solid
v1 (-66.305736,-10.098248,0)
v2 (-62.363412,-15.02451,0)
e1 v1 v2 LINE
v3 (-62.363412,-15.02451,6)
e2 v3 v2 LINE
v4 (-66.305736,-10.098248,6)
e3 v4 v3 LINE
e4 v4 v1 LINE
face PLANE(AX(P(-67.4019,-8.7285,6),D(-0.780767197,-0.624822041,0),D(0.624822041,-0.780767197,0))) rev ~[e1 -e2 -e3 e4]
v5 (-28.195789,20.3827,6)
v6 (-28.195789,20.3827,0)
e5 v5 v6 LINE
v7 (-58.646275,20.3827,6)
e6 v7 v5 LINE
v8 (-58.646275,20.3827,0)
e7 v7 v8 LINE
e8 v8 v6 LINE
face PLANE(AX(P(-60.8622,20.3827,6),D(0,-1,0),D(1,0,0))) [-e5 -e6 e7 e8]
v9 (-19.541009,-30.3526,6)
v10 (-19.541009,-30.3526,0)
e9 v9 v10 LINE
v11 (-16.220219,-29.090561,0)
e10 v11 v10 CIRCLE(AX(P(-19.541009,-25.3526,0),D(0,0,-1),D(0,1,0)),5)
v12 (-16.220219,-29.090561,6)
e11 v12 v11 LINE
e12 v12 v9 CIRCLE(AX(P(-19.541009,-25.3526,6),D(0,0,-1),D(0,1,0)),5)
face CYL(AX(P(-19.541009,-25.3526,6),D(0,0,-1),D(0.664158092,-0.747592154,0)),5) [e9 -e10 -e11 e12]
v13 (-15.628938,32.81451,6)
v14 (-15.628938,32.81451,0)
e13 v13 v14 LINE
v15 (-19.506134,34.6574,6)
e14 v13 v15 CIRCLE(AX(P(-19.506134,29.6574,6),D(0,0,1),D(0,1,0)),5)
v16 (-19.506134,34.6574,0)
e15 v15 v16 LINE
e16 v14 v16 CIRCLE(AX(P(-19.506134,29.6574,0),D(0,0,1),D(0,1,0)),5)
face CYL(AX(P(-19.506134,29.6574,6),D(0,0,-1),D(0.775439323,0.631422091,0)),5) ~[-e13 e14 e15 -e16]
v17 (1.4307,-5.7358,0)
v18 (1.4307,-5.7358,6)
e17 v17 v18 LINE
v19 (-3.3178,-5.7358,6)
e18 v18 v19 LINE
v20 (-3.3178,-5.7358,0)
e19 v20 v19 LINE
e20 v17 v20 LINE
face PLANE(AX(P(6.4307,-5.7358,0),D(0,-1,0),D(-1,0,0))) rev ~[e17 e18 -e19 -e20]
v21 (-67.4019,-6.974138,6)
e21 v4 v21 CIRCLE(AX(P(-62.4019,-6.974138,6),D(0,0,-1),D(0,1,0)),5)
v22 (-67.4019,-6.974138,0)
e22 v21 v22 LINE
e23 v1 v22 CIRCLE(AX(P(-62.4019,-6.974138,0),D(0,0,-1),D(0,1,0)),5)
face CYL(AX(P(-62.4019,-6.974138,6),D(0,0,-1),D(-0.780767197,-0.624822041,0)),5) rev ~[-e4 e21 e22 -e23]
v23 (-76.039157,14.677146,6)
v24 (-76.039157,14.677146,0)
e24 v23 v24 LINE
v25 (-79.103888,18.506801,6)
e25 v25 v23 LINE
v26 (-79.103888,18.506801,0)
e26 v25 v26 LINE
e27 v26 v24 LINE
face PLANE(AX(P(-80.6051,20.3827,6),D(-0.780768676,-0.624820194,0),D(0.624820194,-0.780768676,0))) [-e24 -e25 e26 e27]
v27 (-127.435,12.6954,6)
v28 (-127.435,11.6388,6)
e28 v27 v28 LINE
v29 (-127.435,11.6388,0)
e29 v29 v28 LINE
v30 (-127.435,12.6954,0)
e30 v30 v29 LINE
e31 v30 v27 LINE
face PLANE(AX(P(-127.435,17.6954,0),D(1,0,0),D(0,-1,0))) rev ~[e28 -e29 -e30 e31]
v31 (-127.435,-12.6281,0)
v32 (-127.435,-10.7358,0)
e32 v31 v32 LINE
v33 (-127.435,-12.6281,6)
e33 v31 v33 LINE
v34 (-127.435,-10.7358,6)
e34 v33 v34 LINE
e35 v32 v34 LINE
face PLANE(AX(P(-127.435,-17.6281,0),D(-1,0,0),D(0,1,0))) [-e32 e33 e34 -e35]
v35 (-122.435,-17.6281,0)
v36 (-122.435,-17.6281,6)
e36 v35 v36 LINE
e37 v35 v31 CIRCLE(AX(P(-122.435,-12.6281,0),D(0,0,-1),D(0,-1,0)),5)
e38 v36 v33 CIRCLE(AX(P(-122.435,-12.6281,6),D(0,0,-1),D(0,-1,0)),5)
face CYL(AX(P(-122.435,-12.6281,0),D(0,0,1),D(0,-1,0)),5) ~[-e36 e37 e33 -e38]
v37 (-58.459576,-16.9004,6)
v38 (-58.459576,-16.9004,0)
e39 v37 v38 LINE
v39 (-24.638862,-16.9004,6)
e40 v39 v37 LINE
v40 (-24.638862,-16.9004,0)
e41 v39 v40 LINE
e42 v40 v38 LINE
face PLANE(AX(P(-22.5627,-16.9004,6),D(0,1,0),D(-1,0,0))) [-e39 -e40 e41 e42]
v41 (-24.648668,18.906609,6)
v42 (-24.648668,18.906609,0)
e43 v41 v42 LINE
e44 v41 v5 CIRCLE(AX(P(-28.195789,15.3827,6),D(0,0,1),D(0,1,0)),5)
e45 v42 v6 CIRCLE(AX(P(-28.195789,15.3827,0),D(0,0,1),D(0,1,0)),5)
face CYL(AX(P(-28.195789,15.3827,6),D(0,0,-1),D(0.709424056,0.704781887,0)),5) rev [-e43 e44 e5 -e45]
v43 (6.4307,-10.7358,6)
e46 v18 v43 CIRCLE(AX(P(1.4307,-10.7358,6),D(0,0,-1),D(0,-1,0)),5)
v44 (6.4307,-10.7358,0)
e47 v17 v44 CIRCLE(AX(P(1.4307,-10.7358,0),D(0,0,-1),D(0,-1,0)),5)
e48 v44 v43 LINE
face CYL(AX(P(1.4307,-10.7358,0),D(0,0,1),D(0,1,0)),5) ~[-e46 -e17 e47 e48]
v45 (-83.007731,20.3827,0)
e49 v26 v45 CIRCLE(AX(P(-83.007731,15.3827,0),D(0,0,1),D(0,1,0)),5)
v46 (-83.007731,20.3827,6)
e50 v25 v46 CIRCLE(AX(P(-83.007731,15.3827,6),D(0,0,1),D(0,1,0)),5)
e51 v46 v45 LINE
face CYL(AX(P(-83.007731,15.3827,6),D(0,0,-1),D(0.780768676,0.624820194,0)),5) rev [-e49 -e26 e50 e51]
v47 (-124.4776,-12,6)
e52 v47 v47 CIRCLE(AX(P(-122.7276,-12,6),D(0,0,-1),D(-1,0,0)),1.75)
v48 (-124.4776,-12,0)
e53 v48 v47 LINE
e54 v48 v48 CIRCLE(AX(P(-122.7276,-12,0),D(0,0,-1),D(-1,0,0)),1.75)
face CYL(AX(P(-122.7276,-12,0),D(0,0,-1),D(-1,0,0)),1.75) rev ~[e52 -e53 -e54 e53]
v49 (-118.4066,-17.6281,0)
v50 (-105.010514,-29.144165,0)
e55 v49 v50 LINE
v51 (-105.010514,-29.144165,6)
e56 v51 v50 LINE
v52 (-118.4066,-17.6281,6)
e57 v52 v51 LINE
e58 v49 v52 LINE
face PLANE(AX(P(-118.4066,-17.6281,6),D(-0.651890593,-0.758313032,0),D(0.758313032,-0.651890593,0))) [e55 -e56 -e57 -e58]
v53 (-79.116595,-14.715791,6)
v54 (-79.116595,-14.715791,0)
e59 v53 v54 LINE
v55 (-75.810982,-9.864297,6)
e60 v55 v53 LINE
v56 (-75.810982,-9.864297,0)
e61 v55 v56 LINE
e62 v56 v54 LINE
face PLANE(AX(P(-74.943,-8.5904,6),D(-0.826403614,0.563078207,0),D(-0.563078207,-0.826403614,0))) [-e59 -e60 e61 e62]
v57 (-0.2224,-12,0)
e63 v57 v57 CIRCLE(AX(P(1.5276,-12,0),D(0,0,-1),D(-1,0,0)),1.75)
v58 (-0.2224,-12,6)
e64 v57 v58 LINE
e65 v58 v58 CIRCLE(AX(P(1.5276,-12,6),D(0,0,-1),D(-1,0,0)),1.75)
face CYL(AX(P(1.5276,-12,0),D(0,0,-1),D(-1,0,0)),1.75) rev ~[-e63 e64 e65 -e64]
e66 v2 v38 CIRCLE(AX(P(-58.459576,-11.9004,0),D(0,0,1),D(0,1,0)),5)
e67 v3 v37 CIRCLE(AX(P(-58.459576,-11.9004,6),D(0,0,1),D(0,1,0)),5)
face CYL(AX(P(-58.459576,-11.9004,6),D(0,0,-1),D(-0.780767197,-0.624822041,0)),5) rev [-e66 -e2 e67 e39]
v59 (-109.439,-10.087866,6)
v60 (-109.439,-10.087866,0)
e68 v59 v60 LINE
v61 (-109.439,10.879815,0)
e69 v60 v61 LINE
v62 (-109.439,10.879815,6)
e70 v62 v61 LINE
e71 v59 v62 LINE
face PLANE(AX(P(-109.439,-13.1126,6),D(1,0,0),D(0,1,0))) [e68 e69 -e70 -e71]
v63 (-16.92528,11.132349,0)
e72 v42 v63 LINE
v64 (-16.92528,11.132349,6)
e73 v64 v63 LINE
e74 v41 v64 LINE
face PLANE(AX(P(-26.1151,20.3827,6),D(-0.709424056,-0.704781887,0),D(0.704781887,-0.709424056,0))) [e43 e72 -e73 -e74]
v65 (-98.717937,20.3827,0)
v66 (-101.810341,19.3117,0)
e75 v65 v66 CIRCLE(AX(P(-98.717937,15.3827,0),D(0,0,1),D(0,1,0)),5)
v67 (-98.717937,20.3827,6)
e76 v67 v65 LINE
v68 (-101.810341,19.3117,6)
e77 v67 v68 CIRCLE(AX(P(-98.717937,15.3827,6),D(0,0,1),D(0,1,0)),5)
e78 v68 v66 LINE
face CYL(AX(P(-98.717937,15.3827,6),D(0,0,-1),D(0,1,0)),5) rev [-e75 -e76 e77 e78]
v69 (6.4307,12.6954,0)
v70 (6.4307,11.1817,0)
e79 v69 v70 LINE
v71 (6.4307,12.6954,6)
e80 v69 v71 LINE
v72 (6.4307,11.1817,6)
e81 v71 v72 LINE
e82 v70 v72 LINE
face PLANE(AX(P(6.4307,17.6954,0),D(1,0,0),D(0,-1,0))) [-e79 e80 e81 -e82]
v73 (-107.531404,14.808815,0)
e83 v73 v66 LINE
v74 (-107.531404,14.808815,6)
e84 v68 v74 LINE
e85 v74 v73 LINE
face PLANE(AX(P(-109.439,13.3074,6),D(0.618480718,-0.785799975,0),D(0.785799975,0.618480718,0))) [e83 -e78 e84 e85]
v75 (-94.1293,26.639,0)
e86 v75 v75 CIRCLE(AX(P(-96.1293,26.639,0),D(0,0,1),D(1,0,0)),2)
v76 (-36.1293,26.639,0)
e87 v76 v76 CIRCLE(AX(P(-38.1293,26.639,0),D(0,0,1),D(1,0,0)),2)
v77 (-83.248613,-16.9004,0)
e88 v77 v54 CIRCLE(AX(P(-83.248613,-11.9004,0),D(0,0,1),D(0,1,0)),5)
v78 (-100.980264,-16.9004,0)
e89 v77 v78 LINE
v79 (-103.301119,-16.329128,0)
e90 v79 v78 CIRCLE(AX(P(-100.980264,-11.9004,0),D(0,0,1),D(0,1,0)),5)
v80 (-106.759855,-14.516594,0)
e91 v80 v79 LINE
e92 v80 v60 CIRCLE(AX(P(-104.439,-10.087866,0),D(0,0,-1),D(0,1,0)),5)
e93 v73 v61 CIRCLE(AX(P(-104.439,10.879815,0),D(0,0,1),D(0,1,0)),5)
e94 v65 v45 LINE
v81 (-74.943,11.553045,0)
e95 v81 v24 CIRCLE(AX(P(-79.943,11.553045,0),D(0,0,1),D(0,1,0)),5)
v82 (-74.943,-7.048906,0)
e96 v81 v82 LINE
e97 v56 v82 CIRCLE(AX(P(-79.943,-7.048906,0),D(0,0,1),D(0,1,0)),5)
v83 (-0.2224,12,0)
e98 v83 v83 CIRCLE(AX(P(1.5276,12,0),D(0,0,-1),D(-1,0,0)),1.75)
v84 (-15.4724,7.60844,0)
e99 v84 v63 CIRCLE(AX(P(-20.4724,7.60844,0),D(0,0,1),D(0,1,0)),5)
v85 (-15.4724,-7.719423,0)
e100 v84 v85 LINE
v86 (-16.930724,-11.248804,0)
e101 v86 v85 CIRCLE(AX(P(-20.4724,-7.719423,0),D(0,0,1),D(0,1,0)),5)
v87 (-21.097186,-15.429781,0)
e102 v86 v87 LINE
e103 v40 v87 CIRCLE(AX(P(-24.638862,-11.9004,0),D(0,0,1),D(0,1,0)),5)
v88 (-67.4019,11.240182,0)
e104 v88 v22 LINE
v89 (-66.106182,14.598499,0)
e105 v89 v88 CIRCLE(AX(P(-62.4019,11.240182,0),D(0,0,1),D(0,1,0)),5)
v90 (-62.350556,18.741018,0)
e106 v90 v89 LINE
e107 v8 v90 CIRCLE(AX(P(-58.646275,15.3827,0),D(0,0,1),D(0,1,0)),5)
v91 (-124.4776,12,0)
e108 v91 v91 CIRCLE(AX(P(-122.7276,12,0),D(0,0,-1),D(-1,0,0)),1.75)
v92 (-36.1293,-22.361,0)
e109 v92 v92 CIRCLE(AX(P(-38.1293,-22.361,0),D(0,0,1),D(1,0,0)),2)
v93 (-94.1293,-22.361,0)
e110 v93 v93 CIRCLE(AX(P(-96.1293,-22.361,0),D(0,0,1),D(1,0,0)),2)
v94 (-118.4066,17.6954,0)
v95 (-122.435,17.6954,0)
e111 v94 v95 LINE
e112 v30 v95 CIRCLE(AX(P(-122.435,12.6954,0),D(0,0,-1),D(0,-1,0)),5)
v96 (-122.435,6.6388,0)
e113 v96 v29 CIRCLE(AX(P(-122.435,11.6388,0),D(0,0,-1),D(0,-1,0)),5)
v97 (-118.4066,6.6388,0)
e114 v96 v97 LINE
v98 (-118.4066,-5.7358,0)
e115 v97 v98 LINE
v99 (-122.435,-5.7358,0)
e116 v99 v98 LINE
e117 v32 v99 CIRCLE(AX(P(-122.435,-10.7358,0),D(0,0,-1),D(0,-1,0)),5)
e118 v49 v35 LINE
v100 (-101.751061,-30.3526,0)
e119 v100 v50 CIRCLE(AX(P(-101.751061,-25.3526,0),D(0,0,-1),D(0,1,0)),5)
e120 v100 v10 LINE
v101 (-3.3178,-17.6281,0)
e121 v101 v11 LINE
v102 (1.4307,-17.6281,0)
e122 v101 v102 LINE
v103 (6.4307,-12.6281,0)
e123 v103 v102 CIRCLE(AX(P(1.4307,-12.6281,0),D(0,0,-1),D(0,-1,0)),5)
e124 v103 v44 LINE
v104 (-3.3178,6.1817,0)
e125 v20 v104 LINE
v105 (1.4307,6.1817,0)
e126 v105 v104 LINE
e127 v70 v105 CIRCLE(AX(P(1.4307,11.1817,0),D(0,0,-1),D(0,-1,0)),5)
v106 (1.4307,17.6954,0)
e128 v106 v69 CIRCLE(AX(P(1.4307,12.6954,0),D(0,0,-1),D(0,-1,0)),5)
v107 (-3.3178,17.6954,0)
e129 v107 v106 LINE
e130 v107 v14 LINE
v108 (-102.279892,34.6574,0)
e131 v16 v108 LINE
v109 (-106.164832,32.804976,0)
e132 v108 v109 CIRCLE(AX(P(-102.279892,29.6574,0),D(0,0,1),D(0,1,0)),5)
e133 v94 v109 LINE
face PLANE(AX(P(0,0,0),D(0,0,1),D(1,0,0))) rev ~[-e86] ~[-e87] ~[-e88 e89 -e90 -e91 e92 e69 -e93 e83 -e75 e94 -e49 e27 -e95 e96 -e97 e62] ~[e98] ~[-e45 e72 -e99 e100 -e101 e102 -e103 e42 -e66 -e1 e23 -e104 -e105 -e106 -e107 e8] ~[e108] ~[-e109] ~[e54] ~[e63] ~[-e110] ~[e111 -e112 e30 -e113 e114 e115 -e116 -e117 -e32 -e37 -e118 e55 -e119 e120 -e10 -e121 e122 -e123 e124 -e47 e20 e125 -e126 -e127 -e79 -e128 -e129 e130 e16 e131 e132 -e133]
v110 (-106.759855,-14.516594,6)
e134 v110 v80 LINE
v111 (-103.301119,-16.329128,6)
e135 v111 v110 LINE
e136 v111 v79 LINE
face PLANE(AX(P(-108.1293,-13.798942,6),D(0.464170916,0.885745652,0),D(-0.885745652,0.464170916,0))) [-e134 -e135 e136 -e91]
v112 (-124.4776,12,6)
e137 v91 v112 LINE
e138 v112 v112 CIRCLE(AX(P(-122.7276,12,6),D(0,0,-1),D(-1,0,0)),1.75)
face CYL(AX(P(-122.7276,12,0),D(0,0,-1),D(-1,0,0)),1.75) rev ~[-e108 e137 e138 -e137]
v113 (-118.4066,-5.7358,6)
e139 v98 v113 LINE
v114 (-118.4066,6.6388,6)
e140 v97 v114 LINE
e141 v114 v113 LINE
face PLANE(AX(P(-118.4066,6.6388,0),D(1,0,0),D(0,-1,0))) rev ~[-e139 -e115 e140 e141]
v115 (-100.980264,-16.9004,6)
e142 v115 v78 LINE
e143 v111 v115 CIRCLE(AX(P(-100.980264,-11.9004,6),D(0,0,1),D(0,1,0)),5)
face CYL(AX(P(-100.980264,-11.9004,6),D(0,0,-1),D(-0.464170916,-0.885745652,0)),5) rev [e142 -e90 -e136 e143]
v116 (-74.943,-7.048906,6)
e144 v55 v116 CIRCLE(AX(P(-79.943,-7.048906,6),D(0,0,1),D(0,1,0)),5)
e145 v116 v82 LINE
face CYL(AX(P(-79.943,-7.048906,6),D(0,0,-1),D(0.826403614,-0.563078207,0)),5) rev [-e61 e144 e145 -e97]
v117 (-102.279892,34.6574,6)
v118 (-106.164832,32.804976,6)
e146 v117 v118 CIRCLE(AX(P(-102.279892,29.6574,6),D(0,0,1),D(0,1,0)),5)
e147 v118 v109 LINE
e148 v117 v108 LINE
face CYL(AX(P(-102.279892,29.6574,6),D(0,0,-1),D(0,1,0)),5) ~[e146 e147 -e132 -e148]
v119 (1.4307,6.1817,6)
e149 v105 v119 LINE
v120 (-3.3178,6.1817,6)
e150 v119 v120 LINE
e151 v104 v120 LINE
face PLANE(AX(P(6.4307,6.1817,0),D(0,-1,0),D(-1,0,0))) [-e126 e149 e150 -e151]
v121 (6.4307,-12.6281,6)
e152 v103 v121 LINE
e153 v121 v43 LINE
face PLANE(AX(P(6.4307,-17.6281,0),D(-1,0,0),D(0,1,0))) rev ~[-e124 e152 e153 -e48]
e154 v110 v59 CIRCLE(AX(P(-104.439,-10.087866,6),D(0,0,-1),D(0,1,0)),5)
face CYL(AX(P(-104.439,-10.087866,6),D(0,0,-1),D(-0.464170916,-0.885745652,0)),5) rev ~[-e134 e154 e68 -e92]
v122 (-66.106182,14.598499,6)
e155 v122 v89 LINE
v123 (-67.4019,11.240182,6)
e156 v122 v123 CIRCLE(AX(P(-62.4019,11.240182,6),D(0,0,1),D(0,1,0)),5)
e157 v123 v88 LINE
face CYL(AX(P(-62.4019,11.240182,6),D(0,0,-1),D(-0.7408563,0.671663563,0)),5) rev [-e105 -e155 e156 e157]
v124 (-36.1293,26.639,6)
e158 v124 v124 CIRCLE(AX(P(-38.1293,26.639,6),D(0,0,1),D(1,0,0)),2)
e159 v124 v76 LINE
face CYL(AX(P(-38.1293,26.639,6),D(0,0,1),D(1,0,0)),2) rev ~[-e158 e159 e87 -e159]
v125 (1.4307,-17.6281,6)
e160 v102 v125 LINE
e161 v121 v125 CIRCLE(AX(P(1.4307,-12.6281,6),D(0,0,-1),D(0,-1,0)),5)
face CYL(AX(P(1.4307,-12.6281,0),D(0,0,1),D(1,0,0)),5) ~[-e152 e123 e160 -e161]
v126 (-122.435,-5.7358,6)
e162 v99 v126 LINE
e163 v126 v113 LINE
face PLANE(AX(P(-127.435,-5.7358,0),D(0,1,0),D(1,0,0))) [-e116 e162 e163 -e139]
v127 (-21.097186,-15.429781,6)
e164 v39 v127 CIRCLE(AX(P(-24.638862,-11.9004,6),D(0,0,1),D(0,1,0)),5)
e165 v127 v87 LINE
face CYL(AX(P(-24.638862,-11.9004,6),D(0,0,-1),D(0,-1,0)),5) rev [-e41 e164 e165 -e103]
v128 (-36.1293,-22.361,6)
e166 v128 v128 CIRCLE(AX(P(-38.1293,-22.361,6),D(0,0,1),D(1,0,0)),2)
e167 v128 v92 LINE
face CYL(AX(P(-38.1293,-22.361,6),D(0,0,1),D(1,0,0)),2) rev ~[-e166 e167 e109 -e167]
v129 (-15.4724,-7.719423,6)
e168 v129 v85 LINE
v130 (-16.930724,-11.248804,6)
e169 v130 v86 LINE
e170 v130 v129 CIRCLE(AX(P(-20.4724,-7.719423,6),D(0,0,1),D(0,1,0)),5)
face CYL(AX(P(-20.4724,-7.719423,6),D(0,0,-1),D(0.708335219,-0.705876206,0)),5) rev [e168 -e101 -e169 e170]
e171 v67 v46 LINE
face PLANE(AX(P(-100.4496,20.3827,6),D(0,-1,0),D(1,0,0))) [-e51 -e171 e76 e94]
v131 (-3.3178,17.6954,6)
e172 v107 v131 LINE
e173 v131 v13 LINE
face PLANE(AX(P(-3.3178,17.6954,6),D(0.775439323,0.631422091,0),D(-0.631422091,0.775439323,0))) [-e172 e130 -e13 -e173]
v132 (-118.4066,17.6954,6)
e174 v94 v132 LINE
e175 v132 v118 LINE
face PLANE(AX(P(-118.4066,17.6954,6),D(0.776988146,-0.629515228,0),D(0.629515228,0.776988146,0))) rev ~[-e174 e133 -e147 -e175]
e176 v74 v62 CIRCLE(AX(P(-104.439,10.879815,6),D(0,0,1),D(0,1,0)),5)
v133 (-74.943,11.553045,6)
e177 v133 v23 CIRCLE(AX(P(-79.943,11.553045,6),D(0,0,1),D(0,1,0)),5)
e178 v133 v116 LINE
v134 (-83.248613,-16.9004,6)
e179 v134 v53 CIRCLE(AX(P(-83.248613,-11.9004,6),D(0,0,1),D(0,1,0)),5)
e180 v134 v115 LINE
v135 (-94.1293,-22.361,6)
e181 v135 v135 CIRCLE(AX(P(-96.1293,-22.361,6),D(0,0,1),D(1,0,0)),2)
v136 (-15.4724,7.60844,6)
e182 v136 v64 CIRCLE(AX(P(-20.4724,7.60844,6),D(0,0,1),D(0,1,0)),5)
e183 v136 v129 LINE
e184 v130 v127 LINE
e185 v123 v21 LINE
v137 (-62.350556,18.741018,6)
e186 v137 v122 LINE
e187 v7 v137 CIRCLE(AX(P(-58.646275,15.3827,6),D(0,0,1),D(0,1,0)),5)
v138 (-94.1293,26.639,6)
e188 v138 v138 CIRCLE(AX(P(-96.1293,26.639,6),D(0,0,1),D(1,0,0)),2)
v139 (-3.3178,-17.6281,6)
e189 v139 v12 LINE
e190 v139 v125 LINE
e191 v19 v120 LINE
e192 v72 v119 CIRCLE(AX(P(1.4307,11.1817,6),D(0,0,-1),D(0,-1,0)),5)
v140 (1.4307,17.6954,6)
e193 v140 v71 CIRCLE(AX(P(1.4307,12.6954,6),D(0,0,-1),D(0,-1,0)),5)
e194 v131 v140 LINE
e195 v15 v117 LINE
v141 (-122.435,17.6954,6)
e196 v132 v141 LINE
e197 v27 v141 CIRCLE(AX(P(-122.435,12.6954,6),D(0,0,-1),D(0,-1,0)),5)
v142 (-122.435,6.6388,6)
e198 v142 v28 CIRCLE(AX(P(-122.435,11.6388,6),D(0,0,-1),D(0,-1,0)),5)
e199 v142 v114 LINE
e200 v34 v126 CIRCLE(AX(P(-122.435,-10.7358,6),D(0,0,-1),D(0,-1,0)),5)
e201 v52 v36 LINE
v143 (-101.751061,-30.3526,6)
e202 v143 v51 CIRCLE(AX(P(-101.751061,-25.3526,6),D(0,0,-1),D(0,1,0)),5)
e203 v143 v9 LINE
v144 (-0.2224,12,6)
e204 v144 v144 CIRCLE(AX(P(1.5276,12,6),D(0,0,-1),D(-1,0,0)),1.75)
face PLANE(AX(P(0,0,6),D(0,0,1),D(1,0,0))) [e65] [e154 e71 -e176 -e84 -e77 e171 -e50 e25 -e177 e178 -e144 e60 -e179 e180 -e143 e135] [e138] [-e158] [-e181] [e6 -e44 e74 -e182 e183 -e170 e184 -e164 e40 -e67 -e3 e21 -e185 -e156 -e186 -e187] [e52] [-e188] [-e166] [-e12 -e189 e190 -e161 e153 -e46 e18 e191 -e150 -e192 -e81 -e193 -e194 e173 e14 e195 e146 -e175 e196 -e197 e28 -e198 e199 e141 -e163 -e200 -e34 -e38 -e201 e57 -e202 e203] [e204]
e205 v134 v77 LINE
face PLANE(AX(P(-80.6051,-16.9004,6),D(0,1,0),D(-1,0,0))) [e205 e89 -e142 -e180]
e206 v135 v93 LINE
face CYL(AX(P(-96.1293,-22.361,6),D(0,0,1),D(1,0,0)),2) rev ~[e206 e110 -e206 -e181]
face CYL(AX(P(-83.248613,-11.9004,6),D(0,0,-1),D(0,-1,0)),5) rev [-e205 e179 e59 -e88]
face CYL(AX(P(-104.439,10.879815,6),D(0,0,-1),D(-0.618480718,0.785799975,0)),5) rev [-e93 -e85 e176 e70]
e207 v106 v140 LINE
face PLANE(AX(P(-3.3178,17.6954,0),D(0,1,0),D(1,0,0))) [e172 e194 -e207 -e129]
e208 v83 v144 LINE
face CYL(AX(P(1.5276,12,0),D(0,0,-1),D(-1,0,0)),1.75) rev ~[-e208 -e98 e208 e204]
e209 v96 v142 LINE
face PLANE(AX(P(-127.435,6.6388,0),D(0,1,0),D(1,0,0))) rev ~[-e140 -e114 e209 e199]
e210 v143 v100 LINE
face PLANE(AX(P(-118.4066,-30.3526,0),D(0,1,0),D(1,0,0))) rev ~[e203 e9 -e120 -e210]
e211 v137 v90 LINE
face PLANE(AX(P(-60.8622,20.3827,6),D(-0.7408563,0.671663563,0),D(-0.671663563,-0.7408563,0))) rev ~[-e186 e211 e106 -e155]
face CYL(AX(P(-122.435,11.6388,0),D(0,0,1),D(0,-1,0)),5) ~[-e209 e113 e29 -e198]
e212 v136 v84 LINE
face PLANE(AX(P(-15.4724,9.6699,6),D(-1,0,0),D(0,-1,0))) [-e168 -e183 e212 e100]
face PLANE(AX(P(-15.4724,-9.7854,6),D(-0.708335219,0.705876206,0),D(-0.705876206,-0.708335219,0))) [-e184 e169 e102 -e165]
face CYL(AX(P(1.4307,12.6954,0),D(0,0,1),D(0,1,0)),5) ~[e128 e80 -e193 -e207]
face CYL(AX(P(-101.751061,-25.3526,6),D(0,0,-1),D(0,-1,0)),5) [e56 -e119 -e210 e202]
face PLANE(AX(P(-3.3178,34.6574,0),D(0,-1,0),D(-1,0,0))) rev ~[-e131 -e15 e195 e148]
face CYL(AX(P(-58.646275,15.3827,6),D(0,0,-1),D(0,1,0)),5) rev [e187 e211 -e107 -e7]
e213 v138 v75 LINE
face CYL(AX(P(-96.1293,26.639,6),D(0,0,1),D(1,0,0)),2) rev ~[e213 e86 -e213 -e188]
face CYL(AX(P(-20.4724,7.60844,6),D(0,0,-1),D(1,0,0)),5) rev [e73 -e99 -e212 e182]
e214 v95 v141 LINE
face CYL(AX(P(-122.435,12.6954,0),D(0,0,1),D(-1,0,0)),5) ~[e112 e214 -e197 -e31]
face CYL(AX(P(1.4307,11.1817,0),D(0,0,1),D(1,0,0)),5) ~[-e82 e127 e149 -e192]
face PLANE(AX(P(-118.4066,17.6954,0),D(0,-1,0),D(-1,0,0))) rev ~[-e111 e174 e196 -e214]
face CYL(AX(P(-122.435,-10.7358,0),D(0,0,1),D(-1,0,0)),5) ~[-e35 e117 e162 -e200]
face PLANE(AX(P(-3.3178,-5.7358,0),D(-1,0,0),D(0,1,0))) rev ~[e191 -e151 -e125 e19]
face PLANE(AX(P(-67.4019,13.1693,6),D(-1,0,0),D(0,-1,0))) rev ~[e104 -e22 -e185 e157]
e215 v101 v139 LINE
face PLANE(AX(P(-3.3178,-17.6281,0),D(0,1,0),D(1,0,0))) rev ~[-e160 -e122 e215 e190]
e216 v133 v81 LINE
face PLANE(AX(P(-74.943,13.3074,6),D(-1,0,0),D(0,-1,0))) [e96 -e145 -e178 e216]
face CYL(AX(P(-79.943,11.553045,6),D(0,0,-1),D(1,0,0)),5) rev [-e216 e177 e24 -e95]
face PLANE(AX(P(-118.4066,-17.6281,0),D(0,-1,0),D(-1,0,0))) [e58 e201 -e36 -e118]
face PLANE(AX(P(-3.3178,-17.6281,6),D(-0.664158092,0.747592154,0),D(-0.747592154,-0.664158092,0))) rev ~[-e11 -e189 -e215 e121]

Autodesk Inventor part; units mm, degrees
ref_plane "YZ Plane" through (0, 0, 0) normal (1, 0, 0) x (0, 1, 0)
ref_plane "XZ Plane" through (0, 0, 0) normal (0, 1, 0) x (-1, 0, 0)
ref_plane "XY Plane" through (0, 0, 0) normal (0, 0, 1) x (1, 0, 0)
sketch "Sketch1" plane through (0, 0, 0) normal (0, 0, 1) x (1, 0, 0)
  line L0 (-3.3178, 34.6574) -> (-118.4066, 34.6574)
  line L1 (-118.4066, 34.6574) -> (-118.4066, -30.3526)
  line L2 (-118.4066, -30.3526) -> (-3.3178, -30.3526)
  line L3 (-3.3178, -30.3526) -> (-3.3178, 34.6574)
  line L4 (-118.4066, 17.6954) -> (-127.435, 17.6954)
  line L5 (-127.435, 17.6954) -> (-127.435, 6.6388)
  line L6 (-127.435, 6.6388) -> (-118.4066, 6.6388)
  line L7 (-118.4066, 6.6388) -> (-118.4066, 17.6954)
  line L8 (-118.4066, -17.6281) -> (-127.435, -17.6281)
  line L9 (-127.435, -17.6281) -> (-127.435, -5.7358)
  line L10 (-127.435, -5.7358) -> (-118.4066, -5.7358)
  line L11 (-118.4066, -5.7358) -> (-118.4066, -17.6281)
  line L12 (-3.3178, -17.6281) -> (6.4307, -17.6281)
  line L13 (6.4307, -17.6281) -> (6.4307, -5.7358)
  line L14 (6.4307, -5.7358) -> (-3.3178, -5.7358)
  line L15 (-3.3178, -5.7358) -> (-3.3178, -17.6281)
  line L16 (-3.3178, 17.6954) -> (6.4307, 17.6954)
  line L17 (6.4307, 17.6954) -> (6.4307, 6.1817)
  line L18 (6.4307, 6.1817) -> (-3.3178, 6.1817)
  line L19 (-3.3178, 6.1817) -> (-3.3178, 17.6954)
  point P0 (0, 0)
  point P1 (-3.3178, -5.7358)
  point P2 (-3.3178, 6.1817)
extrude "Extrusion1" add sketch "Sketch1" along normal blind 6
sketch "Sketch2" plane through (0, 0, 6) normal (0, 0, 1) x (1, 0, 0)
  circle A0 centre (-38.1293, 26.639) radius 1.5 projected
  circle A1 centre (-38.1293, -22.361) radius 1.5 projected
  circle A2 centre (-96.1293, -22.361) radius 1.5 projected
  circle A3 centre (-96.1293, 26.639) radius 1.5 projected
  line L0 (6.4307, 17.6954) -> (-3.3178, 17.6954) projected
  line L1 (-3.3178, 17.6954) -> (-3.3178, 34.6574) projected
  line L2 (-3.3178, 34.6574) -> (-118.4066, 34.6574) projected
  line L3 (-118.4066, 34.6574) -> (-118.4066, 17.6954) projected
  line L4 (-118.4066, 17.6954) -> (-127.435, 17.6954) projected
  line L5 (-127.435, 17.6954) -> (-127.435, 6.6388) projected
  line L6 (-127.435, 6.6388) -> (-118.4066, 6.6388) projected
  line L7 (-118.4066, 6.6388) -> (-118.4066, -5.7358) projected
  line L8 (-118.4066, -5.7358) -> (-127.435, -5.7358) projected
  line L9 (-127.435, -5.7358) -> (-127.435, -17.6281) projected
  line L10 (-127.435, -17.6281) -> (-118.4066, -17.6281) projected
  line L11 (-118.4066, -17.6281) -> (-118.4066, -30.3526) projected
  line L12 (-118.4066, -30.3526) -> (-3.3178, -30.3526) projected
  line L13 (-3.3178, -30.3526) -> (-3.3178, -17.6281) projected
  line L14 (-3.3178, -17.6281) -> (6.4307, -17.6281) projected
  line L15 (6.4307, -17.6281) -> (6.4307, -5.7358) projected
  line L16 (6.4307, -5.7358) -> (-3.3178, -5.7358) projected
  line L17 (-3.3178, -5.7358) -> (-3.3178, 6.1817) projected
  line L18 (-3.3178, 6.1817) -> (6.4307, 6.1817) projected
  line L19 (6.4307, 6.1817) -> (6.4307, 17.6954) projected
  circle A4 centre (-96.1293, 26.639) radius 2
  circle A5 centre (-96.1293, -22.361) radius 2
  circle A6 centre (-38.1293, -22.361) radius 2
  circle A7 centre (-38.1293, 26.639) radius 2
  point P0 (0, 0)
  dimension "d9" = 4
  dimension "d10" = 4
  dimension "d11" = 4
  dimension "d12" = 4
extrude "Extrusion2" cut sketch "Sketch2" against normal blind 6 contours A0 | A1 | A2 | A3 | A4 | A5 | A6 | A7
sketch "Sketch3" plane through (0, 0, 0) normal (0, 0, -1) x (-1, 0, 0)
  circle A0 centre (-1.5276, 12) radius 1.75 projected
  line L0 (-6.4307, 17.6954) -> (3.3178, 17.6954) projected
  line L1 (-6.4307, 6.1817) -> (-6.4307, 17.6954) projected
  line L2 (3.3178, 6.1817) -> (-6.4307, 6.1817) projected
  line L3 (3.3178, -5.7358) -> (3.3178, 6.1817) projected
  line L4 (-6.4307, -5.7358) -> (3.3178, -5.7358) projected
  line L5 (-6.4307, -17.6281) -> (-6.4307, -5.7358) projected
  line L6 (3.3178, -17.6281) -> (-6.4307, -17.6281) projected
  line L7 (3.3178, -30.3526) -> (3.3178, -17.6281) projected
  line L8 (118.4066, -30.3526) -> (3.3178, -30.3526) projected
  line L9 (118.4066, -17.6281) -> (118.4066, -30.3526) projected
  line L10 (127.435, -17.6281) -> (118.4066, -17.6281) projected
  line L11 (127.435, -5.7358) -> (127.435, -17.6281) projected
  line L12 (118.4066, -5.7358) -> (127.435, -5.7358) projected
  line L13 (118.4066, 6.6388) -> (118.4066, -5.7358) projected
  line L14 (127.435, 6.6388) -> (118.4066, 6.6388) projected
  line L15 (127.435, 17.6954) -> (127.435, 6.6388) projected
  line L16 (118.4066, 17.6954) -> (127.435, 17.6954) projected
  line L17 (118.4066, 34.6574) -> (118.4066, 17.6954) projected
  line L18 (3.3178, 34.6574) -> (118.4066, 34.6574) projected
  line L19 (3.3178, 17.6954) -> (3.3178, 34.6574) projected
  circle A1 centre (-1.5276, -12) radius 1.75 projected
  circle A2 centre (122.7276, -12) radius 1.75 projected
  circle A3 centre (122.7276, 12) radius 1.75 projected
  point P0 (0, 0)
extrude "Extrusion3" cut sketch "Sketch3" against normal blind 6 contours A0 | A1 | A2 | A3
sketch "Sketch4" plane through (0, 0, 6) normal (0, 0, 1) x (1, 0, 0)
  circle A0 centre (-38.1293, -22.361) radius 1.5 projected
  circle A1 centre (-96.1293, -22.361) radius 1.5 projected
  circle A2 centre (-38.1293, 26.639) radius 1.5 projected
  circle A3 centre (-96.1293, 26.639) radius 1.5 projected
  arc A4 (-108.1293, -22.361) -> (-100.1293, -30.361) centre (-100.1293, -22.361) ccw projected
  line L0 (-108.1293, 26.639) -> (-108.1293, -22.361) projected
  arc A5 (-100.1293, 34.639) -> (-108.1293, 26.639) centre (-100.1293, 26.639) ccw projected
  line L1 (-21.1293, 34.639) -> (-100.1293, 34.639) projected
  arc A6 (-13.1293, 26.639) -> (-21.1293, 34.639) centre (-21.1293, 26.639) ccw projected
  line L2 (-13.1293, -22.361) -> (-13.1293, 26.639) projected
  arc A7 (-21.1293, -30.361) -> (-13.1293, -22.361) centre (-21.1293, -22.361) ccw projected
  line L3 (-100.1293, -30.361) -> (-21.1293, -30.361) projected
  line L4 (-127.435, -17.6281) -> (-118.4066, -17.6281) projected
  line L5 (-118.4066, -30.3526) -> (-3.3178, -30.3526) projected
  line L6 (-118.4066, 34.6574) -> (-118.4066, 17.6954) projected
  line L7 (-118.4066, 17.6954) -> (-104.664, 34.6574)
  line L8 (-3.3178, 34.6574) -> (-118.4066, 34.6574) projected
  line L9 (-3.3178, 17.6954) -> (-3.3178, 34.6574) projected
  line L10 (-3.3178, 17.6954) -> (-17.3486, 34.9264)
  line L11 (-3.3178, -17.6281) -> (6.4307, -17.6281) projected
  line L12 (-109.439, 13.3074) -> (-100.4496, 20.3827)
  line L13 (-100.4496, 20.3827) -> (-26.1151, 20.3827)
  line L14 (-26.1151, 20.3827) -> (-15.4724, 9.6699)
  line L15 (-15.4724, 9.6699) -> (-15.4724, -9.7854)
  line L16 (-15.4724, -9.7854) -> (-22.5627, -16.9004)
  line L17 (-22.5627, -16.9004) -> (-102.211, -16.9004)
  line L18 (-102.211, -16.9004) -> (-109.439, -13.1126)
  line L19 (-109.439, -13.1126) -> (-109.439, 13.3074)
  line L20 (-80.6051, 20.3827) -> (-74.943, 13.3074)
  line L21 (-74.943, 13.3074) -> (-74.943, -8.5904)
  line L22 (-74.943, -8.5904) -> (-80.6051, -16.9004)
  line L23 (-60.8622, 20.3827) -> (-67.4019, 13.1693)
  line L24 (-67.4019, 13.1693) -> (-67.4019, -8.7285)
  line L25 (-67.4019, -8.7285) -> (-60.8622, -16.9004)
  line L26 (-3.3178, -30.3526) -> (-3.3178, -17.6281) projected
  line L27 (-3.3178, -17.6281) -> (-17.6408, -30.3526)
  line L28 (-118.4066, -30.3526) -> (-3.3178, -30.3526) projected
  line L29 (-118.4066, -17.6281) -> (-103.6048, -30.3526)
  line L30 (-118.4066, -17.6281) -> (-118.4066, -30.3526) projected
  line L31 (-118.4066, -17.6281) -> (-118.4066, -30.3526)
  line L32 (-118.4066, -30.3526) -> (-103.6048, -30.3526)
  line L33 (-3.3178, -17.6281) -> (-3.3178, -30.3526)
  line L34 (-17.6408, -30.3526) -> (-3.3178, -30.3526)
  point P0 (0, 0)
  point P1 (-17.1296, 34.6574)
  point P2 (-17.6408, -30.3526)
extrude "Extrusion4" cut sketch "Sketch4" against normal blind 6 contours L27 L26 L5 | L5 L30 L29 | L18 L19 L12 L0 | L0 L12 L13 L20 L21 L22 L17 L18 | L25 L24 L23 L13 L14 L15 L16 L17 | L8 L7 L6 | L8 L9 L10
fillet "Fillet1" radius 5 28 edges at (-127.435, 17.6954, 3) (-127.435, 6.6388, 3) (-127.435, -5.7358, 3) (-127.435, -17.6281, 3) (-104.664, 34.6574, 3) (-17.1296, 34.6574, 3) (6.4307, 17.6954, 3) (6.4307, 6.1817, 3) (6.4307, -5.7358, 3) (6.4307, -17.6281, 3) (-17.6408, -30.3526, 3) (-103.6048, -30.3526, 3) (-80.6051, 20.3827, 3) (-74.943, 13.3074, 3) (-26.1151, 20.3827, 3) (-15.4724, 9.6699, 3) (-15.4724, -9.7854, 3) (-22.5627, -16.9004, 3) (-60.8622, 20.3827, 3) (-67.4019, 13.1693, 3) (-67.4019, -8.7285, 3) (-60.8622, -16.9004, 3) (-109.439, -13.1126, 3) (-102.211, -16.9004, 3) (-100.4496, 20.3827, 3) (-109.439, 13.3074, 3) (-74.943, -8.5904, 3) (-80.6051, -16.9004, 3)
properties part number "Pi_holder"
